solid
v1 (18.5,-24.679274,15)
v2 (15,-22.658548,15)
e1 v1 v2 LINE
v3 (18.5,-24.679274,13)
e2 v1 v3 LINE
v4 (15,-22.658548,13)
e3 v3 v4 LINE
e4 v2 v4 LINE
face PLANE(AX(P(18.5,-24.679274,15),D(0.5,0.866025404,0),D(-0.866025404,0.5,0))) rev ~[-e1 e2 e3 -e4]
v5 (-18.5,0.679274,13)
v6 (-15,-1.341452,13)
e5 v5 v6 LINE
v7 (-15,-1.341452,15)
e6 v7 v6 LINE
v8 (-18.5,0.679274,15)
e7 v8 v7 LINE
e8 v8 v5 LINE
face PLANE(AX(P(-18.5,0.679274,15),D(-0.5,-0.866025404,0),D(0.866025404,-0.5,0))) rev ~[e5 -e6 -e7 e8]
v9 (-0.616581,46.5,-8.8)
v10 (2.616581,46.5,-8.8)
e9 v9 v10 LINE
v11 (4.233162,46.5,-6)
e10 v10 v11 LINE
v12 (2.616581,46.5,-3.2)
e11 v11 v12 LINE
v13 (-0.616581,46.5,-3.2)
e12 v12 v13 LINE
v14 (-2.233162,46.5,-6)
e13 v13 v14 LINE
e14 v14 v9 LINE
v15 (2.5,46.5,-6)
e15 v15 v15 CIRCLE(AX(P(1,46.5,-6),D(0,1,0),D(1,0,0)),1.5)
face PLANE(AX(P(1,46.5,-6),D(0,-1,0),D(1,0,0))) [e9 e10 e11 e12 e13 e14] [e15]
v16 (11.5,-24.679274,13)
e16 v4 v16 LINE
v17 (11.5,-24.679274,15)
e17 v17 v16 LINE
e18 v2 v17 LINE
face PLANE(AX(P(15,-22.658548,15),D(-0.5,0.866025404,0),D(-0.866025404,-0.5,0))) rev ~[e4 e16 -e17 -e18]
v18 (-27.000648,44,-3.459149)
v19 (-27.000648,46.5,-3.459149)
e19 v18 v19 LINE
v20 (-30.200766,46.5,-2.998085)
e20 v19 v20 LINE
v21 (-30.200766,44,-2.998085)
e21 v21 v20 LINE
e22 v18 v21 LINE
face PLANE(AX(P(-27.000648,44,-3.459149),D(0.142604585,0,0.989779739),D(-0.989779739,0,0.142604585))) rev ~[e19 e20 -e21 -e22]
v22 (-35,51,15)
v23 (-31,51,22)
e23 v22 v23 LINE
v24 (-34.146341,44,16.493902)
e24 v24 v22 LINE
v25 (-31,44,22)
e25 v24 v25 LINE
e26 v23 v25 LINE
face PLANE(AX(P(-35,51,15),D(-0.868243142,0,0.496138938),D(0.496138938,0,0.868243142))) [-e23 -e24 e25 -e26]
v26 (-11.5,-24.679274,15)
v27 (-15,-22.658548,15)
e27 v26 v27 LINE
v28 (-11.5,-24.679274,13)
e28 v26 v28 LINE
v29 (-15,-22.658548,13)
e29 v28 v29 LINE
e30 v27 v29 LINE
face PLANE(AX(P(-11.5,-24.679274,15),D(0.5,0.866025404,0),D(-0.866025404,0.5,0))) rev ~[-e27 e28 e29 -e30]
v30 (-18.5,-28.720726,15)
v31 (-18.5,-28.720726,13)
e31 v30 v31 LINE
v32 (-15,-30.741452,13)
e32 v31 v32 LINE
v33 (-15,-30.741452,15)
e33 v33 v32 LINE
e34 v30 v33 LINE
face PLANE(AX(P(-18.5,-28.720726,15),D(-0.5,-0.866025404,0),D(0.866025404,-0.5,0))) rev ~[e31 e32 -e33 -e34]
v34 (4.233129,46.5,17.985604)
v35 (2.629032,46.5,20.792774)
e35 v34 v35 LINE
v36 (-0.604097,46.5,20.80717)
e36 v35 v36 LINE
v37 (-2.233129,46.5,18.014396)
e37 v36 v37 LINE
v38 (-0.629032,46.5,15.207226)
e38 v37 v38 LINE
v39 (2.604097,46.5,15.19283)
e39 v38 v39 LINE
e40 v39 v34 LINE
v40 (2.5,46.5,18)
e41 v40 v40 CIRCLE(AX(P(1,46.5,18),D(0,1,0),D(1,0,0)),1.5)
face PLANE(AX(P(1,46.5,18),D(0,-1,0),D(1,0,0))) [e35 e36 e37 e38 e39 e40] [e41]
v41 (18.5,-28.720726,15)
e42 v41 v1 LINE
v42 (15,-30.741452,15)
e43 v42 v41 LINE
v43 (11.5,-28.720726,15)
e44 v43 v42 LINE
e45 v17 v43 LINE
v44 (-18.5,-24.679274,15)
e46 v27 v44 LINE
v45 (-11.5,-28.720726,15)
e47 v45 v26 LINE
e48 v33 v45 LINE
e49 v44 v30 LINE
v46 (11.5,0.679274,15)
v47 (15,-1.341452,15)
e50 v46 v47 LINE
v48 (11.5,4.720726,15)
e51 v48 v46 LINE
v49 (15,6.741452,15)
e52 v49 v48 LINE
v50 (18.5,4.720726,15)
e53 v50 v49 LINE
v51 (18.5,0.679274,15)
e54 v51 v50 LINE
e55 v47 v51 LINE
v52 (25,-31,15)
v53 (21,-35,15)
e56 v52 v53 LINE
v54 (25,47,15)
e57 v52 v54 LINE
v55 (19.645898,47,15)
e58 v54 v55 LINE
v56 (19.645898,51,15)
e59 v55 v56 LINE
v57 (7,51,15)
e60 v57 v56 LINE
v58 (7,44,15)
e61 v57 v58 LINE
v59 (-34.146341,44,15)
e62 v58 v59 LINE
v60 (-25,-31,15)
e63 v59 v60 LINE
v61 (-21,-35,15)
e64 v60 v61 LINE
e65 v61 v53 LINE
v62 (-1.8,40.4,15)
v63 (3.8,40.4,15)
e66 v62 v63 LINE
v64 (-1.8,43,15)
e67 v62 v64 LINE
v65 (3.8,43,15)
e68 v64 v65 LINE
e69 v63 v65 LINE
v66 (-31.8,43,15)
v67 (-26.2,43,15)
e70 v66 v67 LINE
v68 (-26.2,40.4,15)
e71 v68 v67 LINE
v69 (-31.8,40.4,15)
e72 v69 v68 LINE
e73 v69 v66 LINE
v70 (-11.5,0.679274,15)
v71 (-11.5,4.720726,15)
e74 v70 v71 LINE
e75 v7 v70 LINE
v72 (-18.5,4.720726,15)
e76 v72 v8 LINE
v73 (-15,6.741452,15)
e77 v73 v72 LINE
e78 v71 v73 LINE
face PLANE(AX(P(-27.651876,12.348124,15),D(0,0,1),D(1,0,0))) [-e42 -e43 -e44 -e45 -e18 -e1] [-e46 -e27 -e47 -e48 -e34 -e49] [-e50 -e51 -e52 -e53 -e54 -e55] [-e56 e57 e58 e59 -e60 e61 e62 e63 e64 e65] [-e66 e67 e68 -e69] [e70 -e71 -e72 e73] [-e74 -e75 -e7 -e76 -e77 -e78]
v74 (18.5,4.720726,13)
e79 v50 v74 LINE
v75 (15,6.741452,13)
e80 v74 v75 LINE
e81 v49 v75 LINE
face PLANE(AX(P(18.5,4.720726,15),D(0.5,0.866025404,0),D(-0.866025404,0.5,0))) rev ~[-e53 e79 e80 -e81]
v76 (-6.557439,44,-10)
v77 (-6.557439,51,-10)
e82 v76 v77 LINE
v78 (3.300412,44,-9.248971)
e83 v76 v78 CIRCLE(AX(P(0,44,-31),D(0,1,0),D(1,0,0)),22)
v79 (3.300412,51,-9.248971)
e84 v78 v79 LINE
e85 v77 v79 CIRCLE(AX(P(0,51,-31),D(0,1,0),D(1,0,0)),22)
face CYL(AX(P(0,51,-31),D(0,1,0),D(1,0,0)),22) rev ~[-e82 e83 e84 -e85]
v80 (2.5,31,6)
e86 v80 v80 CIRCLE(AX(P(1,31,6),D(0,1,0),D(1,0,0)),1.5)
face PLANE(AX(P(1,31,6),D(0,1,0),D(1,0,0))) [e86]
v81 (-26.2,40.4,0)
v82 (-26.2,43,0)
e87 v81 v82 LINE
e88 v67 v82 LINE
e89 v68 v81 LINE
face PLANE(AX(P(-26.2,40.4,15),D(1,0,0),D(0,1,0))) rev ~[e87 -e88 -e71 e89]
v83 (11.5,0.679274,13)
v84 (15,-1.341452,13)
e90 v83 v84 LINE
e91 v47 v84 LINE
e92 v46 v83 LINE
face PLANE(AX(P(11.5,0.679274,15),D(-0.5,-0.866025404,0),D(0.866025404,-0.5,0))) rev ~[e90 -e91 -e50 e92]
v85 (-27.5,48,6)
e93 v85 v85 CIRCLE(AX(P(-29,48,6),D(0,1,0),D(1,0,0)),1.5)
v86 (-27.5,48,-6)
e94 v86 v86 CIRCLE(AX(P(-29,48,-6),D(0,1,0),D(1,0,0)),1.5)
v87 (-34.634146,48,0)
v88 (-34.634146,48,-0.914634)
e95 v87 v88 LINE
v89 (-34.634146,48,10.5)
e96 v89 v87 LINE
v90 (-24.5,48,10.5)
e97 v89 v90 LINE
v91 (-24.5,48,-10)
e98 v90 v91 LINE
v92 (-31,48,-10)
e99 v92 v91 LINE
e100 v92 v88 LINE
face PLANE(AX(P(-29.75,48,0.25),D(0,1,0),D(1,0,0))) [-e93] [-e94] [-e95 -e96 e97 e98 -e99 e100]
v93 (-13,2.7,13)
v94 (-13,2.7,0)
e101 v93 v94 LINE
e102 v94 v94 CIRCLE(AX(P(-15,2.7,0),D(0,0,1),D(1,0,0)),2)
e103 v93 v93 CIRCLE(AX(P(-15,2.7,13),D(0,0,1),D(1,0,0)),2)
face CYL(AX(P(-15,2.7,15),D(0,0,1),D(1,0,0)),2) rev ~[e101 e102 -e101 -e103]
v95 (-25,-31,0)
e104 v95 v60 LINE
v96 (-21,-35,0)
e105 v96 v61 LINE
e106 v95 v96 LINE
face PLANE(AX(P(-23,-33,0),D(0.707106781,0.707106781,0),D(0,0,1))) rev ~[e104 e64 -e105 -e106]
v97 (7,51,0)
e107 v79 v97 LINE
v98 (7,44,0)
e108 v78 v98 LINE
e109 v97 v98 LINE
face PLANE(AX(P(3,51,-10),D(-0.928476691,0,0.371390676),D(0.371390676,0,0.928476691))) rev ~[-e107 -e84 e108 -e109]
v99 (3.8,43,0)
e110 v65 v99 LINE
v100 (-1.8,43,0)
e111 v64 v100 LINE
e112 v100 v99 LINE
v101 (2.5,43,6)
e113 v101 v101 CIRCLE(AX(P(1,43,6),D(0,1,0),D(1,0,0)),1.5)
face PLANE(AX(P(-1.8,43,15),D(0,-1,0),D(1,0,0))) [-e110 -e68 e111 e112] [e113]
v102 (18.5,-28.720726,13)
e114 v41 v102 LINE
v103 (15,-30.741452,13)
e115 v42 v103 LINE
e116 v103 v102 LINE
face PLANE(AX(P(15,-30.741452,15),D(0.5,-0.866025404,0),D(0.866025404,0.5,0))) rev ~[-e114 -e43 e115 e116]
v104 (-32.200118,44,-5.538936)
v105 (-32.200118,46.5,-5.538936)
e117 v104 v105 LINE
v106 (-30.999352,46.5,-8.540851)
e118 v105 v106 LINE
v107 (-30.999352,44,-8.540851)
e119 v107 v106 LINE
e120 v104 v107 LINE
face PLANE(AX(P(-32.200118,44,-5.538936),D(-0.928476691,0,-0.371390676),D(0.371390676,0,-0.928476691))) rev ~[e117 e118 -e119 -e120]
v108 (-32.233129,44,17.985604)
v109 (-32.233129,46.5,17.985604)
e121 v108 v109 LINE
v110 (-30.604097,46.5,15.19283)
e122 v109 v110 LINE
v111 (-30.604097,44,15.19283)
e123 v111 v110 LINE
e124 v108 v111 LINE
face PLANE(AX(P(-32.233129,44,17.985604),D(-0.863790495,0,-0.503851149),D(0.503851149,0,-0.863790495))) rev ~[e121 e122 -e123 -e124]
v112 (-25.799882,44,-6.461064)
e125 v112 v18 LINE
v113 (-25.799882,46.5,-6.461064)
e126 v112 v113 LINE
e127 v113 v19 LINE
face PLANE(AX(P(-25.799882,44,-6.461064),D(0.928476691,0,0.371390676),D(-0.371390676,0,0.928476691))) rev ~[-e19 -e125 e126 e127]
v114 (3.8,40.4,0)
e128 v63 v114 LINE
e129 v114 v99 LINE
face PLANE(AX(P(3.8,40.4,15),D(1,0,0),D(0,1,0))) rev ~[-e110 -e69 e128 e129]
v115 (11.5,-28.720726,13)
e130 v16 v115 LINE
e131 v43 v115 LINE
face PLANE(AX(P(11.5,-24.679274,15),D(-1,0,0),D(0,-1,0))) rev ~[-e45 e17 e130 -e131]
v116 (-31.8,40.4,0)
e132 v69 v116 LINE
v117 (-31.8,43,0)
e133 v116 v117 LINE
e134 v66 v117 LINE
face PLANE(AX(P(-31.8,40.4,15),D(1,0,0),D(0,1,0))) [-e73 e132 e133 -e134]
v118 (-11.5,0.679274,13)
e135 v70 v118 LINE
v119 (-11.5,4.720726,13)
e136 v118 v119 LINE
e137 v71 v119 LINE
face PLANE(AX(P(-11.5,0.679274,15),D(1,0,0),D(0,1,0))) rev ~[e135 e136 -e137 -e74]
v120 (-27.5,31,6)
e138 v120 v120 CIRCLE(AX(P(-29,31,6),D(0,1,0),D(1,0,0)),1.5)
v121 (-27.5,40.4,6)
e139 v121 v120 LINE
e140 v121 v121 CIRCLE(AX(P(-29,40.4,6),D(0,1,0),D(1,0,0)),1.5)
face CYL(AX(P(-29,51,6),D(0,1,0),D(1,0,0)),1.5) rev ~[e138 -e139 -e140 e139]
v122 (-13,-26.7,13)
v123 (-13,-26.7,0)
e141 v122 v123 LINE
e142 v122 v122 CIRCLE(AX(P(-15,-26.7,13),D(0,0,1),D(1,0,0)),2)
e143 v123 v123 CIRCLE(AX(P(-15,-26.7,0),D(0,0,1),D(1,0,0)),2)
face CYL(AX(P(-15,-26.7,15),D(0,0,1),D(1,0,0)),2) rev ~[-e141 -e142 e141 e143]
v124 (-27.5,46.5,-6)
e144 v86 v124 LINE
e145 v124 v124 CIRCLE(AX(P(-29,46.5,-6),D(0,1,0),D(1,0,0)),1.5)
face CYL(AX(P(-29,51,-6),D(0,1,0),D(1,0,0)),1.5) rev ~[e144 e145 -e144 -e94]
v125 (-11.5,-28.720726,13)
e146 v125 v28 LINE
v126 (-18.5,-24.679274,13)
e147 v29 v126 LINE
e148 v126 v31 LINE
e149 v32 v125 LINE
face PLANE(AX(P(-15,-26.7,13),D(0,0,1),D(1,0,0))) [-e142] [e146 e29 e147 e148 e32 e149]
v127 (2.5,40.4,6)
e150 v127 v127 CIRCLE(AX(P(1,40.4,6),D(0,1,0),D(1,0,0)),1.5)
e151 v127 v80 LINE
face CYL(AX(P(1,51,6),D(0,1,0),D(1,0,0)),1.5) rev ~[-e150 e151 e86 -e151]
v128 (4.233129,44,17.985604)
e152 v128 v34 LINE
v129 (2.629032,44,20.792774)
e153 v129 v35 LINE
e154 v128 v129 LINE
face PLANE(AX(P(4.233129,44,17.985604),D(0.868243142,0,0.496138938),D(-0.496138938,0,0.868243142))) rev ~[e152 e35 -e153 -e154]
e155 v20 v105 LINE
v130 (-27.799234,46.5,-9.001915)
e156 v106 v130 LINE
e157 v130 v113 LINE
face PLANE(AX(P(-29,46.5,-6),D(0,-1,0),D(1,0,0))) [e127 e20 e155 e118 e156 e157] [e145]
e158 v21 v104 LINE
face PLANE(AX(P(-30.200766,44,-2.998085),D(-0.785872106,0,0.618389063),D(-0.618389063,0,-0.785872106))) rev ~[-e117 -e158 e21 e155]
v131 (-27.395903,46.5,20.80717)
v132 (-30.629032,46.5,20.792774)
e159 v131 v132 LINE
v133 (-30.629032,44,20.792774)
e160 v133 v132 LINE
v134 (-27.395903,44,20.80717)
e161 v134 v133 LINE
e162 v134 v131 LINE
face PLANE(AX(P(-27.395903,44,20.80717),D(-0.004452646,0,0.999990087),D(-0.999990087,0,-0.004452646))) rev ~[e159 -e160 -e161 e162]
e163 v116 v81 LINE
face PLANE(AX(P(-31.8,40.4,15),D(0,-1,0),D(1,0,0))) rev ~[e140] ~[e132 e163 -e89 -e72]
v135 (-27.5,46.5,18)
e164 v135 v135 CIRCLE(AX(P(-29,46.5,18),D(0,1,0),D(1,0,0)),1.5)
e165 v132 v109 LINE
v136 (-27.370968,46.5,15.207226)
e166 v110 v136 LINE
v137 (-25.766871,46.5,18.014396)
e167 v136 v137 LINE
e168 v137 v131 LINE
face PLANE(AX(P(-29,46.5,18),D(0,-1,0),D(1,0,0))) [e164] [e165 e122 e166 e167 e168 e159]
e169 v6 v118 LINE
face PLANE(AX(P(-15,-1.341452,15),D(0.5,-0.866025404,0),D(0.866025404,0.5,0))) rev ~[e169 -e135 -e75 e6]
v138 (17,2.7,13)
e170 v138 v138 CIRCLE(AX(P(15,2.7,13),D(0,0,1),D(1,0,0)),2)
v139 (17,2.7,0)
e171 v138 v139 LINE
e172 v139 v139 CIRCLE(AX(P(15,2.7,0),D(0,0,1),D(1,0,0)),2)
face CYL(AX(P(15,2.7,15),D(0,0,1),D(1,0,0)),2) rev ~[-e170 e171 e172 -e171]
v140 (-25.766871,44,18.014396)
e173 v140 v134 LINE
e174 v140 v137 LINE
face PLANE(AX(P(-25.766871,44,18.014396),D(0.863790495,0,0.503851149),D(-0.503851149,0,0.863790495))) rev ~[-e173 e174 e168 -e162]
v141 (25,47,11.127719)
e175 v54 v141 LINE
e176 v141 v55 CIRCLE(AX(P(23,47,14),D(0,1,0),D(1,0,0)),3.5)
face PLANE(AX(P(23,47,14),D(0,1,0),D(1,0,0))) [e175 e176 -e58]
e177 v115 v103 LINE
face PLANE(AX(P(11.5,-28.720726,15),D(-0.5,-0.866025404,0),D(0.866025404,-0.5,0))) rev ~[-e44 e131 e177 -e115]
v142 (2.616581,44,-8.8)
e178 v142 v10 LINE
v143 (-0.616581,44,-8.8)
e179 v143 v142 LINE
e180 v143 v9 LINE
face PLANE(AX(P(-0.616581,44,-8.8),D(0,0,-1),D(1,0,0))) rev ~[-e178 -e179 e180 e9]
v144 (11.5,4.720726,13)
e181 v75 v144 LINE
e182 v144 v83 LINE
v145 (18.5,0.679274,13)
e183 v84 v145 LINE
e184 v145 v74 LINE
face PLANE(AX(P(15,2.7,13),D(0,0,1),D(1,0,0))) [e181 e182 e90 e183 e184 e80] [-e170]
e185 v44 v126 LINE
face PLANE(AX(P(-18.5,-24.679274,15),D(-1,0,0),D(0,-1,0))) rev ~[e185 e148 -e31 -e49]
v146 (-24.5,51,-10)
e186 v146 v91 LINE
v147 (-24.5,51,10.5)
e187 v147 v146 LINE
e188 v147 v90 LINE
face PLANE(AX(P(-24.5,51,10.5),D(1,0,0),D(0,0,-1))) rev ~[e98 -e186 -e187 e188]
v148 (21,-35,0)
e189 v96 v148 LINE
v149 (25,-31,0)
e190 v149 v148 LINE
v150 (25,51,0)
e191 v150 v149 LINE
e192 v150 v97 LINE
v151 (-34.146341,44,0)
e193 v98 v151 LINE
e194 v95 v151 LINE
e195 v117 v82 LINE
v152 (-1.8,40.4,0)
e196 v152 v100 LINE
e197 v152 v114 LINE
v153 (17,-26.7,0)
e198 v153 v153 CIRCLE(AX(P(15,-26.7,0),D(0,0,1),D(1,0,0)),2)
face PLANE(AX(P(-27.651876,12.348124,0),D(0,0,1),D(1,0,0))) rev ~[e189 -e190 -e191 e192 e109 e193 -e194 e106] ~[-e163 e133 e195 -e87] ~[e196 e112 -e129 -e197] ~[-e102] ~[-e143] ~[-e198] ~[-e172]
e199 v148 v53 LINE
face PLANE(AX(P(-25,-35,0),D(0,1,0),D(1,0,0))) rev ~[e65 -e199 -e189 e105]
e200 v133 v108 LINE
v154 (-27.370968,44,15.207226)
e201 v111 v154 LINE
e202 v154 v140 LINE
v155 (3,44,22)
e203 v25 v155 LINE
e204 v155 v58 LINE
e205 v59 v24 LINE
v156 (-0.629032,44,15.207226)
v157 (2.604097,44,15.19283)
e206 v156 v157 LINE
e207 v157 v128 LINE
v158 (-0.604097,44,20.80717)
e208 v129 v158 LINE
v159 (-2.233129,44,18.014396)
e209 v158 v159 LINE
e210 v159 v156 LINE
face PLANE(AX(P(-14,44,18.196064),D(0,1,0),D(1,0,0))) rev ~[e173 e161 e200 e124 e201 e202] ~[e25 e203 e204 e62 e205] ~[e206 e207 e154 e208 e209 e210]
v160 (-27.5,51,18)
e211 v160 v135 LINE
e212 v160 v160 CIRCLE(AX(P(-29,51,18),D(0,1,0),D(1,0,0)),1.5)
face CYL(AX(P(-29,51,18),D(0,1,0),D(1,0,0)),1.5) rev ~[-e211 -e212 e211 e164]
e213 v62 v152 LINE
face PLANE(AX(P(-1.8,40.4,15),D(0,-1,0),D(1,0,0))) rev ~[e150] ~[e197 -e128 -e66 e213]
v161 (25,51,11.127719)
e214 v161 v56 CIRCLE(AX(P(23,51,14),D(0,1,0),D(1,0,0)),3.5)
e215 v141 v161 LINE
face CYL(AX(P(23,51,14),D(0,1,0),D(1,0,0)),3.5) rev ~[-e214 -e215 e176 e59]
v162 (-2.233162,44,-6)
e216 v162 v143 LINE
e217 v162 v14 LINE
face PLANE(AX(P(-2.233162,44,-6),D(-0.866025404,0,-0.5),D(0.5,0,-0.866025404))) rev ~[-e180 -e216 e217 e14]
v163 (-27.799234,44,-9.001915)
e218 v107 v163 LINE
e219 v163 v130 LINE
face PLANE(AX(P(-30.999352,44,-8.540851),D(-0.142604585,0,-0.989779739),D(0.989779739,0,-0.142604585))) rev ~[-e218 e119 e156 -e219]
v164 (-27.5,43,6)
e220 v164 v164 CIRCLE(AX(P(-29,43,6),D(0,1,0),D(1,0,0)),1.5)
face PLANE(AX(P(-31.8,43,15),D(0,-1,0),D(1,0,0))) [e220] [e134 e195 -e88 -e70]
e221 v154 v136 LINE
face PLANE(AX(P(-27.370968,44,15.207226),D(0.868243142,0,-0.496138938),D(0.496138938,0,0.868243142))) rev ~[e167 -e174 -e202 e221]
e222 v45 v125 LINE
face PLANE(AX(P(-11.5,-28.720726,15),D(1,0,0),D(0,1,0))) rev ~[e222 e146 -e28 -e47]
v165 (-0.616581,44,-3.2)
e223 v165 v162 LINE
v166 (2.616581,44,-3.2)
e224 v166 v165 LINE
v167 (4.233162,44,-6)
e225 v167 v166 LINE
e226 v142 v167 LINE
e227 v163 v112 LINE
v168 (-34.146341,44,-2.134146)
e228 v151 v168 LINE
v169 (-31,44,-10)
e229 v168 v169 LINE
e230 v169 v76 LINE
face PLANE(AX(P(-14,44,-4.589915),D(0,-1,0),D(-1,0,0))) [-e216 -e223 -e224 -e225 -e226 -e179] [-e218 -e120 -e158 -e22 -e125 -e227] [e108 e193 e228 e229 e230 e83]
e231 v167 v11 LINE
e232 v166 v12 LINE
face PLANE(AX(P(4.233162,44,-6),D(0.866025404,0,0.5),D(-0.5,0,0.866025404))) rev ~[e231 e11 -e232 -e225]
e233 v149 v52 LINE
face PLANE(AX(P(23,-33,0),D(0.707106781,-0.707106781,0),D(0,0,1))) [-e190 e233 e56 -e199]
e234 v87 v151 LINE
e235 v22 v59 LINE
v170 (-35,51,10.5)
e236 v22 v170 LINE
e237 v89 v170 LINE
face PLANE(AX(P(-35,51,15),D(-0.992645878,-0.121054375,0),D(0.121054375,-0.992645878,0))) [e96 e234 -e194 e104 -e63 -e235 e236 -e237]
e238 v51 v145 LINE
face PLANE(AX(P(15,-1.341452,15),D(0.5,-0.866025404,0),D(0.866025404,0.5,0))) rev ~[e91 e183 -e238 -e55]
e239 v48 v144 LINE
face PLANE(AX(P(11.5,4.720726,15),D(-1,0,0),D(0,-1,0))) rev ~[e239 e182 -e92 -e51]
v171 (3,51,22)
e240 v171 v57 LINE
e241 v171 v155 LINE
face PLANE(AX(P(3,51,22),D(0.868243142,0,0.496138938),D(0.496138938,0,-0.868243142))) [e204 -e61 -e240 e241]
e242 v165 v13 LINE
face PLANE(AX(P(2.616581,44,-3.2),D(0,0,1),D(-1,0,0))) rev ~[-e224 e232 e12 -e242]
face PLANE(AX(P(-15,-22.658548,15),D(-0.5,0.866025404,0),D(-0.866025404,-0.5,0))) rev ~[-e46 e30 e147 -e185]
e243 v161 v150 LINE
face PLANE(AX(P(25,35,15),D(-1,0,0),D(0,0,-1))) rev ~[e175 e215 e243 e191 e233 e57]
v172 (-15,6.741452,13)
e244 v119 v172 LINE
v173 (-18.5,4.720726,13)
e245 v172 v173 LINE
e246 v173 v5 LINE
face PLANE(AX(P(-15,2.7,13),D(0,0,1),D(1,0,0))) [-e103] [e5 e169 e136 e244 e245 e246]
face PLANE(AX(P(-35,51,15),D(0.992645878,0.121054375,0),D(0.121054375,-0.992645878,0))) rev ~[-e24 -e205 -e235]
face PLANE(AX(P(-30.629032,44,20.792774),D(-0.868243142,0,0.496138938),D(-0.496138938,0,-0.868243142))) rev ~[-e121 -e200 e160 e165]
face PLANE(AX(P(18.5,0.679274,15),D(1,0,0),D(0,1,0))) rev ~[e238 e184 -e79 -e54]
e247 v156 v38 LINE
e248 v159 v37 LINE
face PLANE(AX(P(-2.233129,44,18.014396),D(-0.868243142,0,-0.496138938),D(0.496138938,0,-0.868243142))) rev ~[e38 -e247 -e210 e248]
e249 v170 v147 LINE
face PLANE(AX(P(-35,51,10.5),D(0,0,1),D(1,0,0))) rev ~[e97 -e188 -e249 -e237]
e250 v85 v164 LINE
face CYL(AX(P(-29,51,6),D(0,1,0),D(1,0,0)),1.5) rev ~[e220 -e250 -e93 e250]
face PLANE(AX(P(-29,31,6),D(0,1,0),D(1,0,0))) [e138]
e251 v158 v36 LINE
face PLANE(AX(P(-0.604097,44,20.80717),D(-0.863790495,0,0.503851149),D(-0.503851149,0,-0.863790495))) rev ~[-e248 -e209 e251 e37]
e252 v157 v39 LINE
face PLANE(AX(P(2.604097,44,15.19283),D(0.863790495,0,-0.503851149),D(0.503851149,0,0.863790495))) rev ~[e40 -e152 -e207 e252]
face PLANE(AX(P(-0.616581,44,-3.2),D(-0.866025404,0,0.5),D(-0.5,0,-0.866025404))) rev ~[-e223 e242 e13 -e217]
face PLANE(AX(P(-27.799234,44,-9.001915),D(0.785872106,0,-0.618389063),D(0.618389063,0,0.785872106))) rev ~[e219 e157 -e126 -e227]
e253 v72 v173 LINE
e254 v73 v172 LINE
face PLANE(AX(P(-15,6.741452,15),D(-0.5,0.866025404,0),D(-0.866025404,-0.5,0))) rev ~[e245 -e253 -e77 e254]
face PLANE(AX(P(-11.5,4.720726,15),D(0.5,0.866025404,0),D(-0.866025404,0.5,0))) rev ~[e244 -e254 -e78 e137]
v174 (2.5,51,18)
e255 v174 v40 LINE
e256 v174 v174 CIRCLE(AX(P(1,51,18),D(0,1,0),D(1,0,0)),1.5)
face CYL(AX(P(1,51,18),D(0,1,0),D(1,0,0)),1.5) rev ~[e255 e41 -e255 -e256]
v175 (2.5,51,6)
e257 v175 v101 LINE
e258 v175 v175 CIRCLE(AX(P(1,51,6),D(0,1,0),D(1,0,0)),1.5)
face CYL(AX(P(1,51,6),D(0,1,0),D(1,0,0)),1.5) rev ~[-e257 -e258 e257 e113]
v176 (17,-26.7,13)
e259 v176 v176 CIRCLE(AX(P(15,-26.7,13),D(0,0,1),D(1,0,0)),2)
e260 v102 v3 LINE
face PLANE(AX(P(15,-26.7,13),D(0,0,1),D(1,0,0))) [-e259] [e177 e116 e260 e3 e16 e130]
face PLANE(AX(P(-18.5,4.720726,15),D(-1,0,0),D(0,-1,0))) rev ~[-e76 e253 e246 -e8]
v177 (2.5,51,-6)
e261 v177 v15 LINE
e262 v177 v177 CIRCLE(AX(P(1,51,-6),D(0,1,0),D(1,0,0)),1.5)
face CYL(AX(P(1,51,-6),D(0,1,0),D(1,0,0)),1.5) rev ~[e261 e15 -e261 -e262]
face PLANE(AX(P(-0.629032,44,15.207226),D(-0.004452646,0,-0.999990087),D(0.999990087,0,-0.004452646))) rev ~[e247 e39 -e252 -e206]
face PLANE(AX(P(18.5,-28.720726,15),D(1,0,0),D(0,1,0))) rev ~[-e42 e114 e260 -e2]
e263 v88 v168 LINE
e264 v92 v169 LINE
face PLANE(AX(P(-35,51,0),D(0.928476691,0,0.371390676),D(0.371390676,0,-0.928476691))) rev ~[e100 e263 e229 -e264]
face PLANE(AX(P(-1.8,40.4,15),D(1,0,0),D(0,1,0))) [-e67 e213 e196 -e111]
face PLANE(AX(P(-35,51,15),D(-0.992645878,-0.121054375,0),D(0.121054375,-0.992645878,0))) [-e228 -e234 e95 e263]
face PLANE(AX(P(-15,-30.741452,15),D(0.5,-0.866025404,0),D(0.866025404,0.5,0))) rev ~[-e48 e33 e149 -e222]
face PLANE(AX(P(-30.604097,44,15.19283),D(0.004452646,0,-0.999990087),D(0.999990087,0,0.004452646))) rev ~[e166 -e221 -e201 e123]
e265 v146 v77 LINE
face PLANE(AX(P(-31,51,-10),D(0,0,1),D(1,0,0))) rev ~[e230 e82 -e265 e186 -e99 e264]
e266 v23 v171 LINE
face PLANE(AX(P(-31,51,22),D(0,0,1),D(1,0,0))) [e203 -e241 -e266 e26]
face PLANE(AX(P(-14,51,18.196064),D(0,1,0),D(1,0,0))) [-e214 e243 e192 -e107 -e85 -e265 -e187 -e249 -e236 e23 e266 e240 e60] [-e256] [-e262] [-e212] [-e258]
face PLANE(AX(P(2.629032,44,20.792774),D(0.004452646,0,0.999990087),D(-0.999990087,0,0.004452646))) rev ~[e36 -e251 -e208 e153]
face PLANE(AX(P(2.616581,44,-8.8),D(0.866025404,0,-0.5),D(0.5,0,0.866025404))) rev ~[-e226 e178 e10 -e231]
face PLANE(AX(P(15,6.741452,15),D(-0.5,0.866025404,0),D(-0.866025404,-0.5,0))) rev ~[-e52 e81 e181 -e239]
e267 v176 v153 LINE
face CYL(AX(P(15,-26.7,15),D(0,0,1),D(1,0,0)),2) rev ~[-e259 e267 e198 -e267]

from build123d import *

# Parameters (mm, degrees)
SKETCH1_W               = 50
SKETCH1_H               = 70
BOSS_EXTRUDE1_DEPTH     = 15
SKETCH3_R               = 2
CUT_EXTRUDE1_DEPTH      = 16
SKETCH4_W               = 50
SKETCH4_H               = 15
BOSS_EXTRUDE2_DEPTH     = 16
CHAMFER1_SIZE           = 4
BOSS_EXTRUDE3_DEPTH     = 15
SKETCH6_R               = 3.5
CUT_EXTRUDE2_DEPTH      = 4
SKETCH7_R               = 1.5
BOSS_EXTRUDE4_DEPTH     = 7
CUT_EXTRUDE3_DEPTH      = 8
CUT_EXTRUDE3_DEPTH_BACK = 26
SKETCH7_2_R             = 1.5
CUT_EXTRUDE4_DEPTH      = 20
SKETCH9_W               = 5.6
SKETCH9_H               = 2.6
CUT_EXTRUDE5_DEPTH      = 26
SKETCH10_W              = 10.5
SKETCH10_H              = 20.5
CUT_EXTRUDE6_DEPTH      = 3
CUT_EXTRUDE7_DEPTH      = 2.5
CUT_EXTRUDE8_DEPTH      = 2
SKETCH14_R              = 22
CUT_EXTRUDE9_DEPTH      = 87


with BuildPart() as part:
    # Sketch1 → Boss-Extrude1 (new body)
    with BuildSketch(Plane.XY):
        Rectangle(SKETCH1_W, SKETCH1_H)
    extrude(amount=BOSS_EXTRUDE1_DEPTH)

    # Sketch3 → Cut-Extrude1 (cut, through all)
    with BuildSketch(Plane.XY.offset(15)):
        with Locations((-15, 2.7)):
            Circle(SKETCH3_R)
        with Locations((15, 2.7)):
            Circle(SKETCH3_R)
        with Locations((-15, -26.7)):
            Circle(SKETCH3_R)
        with Locations((15, -26.7)):
            Circle(SKETCH3_R)
    extrude(amount=-CUT_EXTRUDE1_DEPTH, mode=Mode.SUBTRACT)

    # Sketch4 → Boss-Extrude2 (add)
    with BuildSketch(Plane(origin=(0, 35, 0), x_dir=(1, 0, 0), z_dir=(0, 1, 0))):
        with Locations((0, -7.5)):
            Rectangle(SKETCH4_W, SKETCH4_H)
    extrude(amount=BOSS_EXTRUDE2_DEPTH)

    # Chamfer1
    chamfer1_edges = [part.edges().sort_by_distance(p)[0] for p in [
        (25, -35, 7.5),
        (-25, -35, 7.5),
    ]]
    chamfer(chamfer1_edges, length=CHAMFER1_SIZE)

    # Sketch5 → Boss-Extrude3 (add)
    with BuildSketch(Plane.XY.offset(15)):
        Polygon((-25, 51), (-35, 51), (-25, -31), align=None)
    extrude(amount=-BOSS_EXTRUDE3_DEPTH)

    # Sketch6 → Cut-Extrude2 (cut)
    with BuildSketch(Plane(origin=(0, 51, 0), x_dir=(1, 0, 0), z_dir=(0, 1, 0))):
        with Locations((23, -14)):
            Circle(SKETCH6_R)
    extrude(amount=-CUT_EXTRUDE2_DEPTH, mode=Mode.SUBTRACT)

    # Sketch7 → Boss-Extrude4 (add)
    with BuildSketch(Plane(origin=(0, 51, 0), x_dir=(1, 0, 0), z_dir=(0, 1, 0))):
        with Locations((-29, -6)):
            Circle(SKETCH7_R)
        with Locations((1, -6)):
            Circle(SKETCH7_R)
        Polygon((-35, -15), (-31, -22), (3, -22), (7, -15), align=None)
        with Locations((-29, -18)):
            Circle(SKETCH7_R, mode=Mode.SUBTRACT)
        with Locations((1, -18)):
            Circle(SKETCH7_R, mode=Mode.SUBTRACT)
        Polygon((-35, 0), (-31, 10), (3, 10), (7, 0), align=None)
        with Locations((-29, 6)):
            Circle(SKETCH7_R, mode=Mode.SUBTRACT)
        with Locations((1, 6)):
            Circle(SKETCH7_R, mode=Mode.SUBTRACT)
    extrude(amount=-BOSS_EXTRUDE4_DEPTH)

    # Sketch8 → Cut-Extrude3 (cut, two sides)
    with BuildSketch(Plane.XY.offset(15)) as cut_extrude3_sk:
        Polygon((-35, 51), (-34.146341463, 44), (-33.909721647, 42.059717507), (-44.503182053, 47.14840404), (-41.913565843, 51), align=None)
    extrude(amount=CUT_EXTRUDE3_DEPTH, mode=Mode.SUBTRACT)
    extrude(cut_extrude3_sk.sketch, amount=-CUT_EXTRUDE3_DEPTH_BACK, mode=Mode.SUBTRACT)

    # Sketch7<2> → Cut-Extrude4 (cut)
    with BuildSketch(Plane(origin=(0, 51, 0), x_dir=(1, 0, 0), z_dir=(0, 1, 0))):
        with Locations((-29, -6)):
            Circle(SKETCH7_2_R)
        with Locations((1, -6)):
            Circle(SKETCH7_2_R)
    extrude(amount=-CUT_EXTRUDE4_DEPTH, mode=Mode.SUBTRACT)

    # Sketch9 → Cut-Extrude5 (cut, through all)
    with BuildSketch(Plane.XY.offset(15)):
        with Locations((-29, 41.7)):
            Rectangle(SKETCH9_W, SKETCH9_H)
        with Locations((1, 41.7)):
            Rectangle(SKETCH9_W, SKETCH9_H)
    extrude(amount=-CUT_EXTRUDE5_DEPTH, mode=Mode.SUBTRACT)

    # Sketch10 → Cut-Extrude6 (cut)
    with BuildSketch(Plane(origin=(0, 51, 0), x_dir=(1, 0, 0), z_dir=(0, 1, 0))):
        with Locations((-29.75, -0.25)):
            Rectangle(SKETCH10_W, SKETCH10_H)
    extrude(amount=-CUT_EXTRUDE6_DEPTH, mode=Mode.SUBTRACT)

    # Sketch11 → Cut-Extrude7 (cut)
    with BuildSketch(Plane.XZ.offset(-44)):
        Polygon((-30.999351715, -8.540851443), (-27.799233961, -9.001915098), (-25.799882246, -6.461063655), (-27.000648285, -3.459148557), (-30.200766039, -2.998084902), (-32.200117754, -5.538936345), align=None)
        Polygon((2.616580754, -8.8), (4.233161507, -6), (2.616580754, -3.2), (-0.616580754, -3.2), (-2.233161507, -6), (-0.616580754, -8.8), align=None)
        Polygon((-32.233129457, 17.985603874), (-30.604097318, 15.192829694), (-27.370967861, 15.207225819), (-25.766870543, 18.014396126), (-27.395902682, 20.807170306), (-30.629032139, 20.792774181), align=None)
        Polygon((2.629032139, 20.792774181), (-0.604097318, 20.807170306), (-2.233129457, 18.014396126), (-0.629032139, 15.207225819), (2.604097318, 15.192829694), (4.233129457, 17.985603874), align=None)
    extrude(amount=-CUT_EXTRUDE7_DEPTH, mode=Mode.SUBTRACT)

    # Sketch13 → Cut-Extrude8 (cut)
    with BuildSketch(Plane.XY.offset(15)):
        Polygon((11.5, 0.679274058), (15, -1.341451884), (18.5, 0.679274058), (18.5, 4.720725942), (15, 6.741451884), (11.5, 4.720725942), align=None)
        Polygon((-18.5, -28.720725942), (-15, -30.741451884), (-11.5, -28.720725942), (-11.5, -24.679274058), (-15, -22.658548116), (-18.5, -24.679274058), align=None)
        Polygon((18.5, -28.720725942), (18.5, -24.679274058), (15, -22.658548116), (11.5, -24.679274058), (11.5, -28.720725942), (15, -30.741451884), align=None)
        Polygon((-11.5, 4.720725942), (-15, 6.741451884), (-18.5, 4.720725942), (-18.5, 0.679274058), (-15, -1.341451884), (-11.5, 0.679274058), align=None)
    extrude(amount=-CUT_EXTRUDE8_DEPTH, mode=Mode.SUBTRACT)

    # Sketch14 → Cut-Extrude9 (cut, through all)
    with BuildSketch(Plane(origin=(0, 51, 0), x_dir=(1, 0, 0), z_dir=(0, 1, 0))):
        with Locations((0, 31)):
            Circle(SKETCH14_R)
    extrude(amount=-CUT_EXTRUDE9_DEPTH, mode=Mode.SUBTRACT)


solid = part.part
